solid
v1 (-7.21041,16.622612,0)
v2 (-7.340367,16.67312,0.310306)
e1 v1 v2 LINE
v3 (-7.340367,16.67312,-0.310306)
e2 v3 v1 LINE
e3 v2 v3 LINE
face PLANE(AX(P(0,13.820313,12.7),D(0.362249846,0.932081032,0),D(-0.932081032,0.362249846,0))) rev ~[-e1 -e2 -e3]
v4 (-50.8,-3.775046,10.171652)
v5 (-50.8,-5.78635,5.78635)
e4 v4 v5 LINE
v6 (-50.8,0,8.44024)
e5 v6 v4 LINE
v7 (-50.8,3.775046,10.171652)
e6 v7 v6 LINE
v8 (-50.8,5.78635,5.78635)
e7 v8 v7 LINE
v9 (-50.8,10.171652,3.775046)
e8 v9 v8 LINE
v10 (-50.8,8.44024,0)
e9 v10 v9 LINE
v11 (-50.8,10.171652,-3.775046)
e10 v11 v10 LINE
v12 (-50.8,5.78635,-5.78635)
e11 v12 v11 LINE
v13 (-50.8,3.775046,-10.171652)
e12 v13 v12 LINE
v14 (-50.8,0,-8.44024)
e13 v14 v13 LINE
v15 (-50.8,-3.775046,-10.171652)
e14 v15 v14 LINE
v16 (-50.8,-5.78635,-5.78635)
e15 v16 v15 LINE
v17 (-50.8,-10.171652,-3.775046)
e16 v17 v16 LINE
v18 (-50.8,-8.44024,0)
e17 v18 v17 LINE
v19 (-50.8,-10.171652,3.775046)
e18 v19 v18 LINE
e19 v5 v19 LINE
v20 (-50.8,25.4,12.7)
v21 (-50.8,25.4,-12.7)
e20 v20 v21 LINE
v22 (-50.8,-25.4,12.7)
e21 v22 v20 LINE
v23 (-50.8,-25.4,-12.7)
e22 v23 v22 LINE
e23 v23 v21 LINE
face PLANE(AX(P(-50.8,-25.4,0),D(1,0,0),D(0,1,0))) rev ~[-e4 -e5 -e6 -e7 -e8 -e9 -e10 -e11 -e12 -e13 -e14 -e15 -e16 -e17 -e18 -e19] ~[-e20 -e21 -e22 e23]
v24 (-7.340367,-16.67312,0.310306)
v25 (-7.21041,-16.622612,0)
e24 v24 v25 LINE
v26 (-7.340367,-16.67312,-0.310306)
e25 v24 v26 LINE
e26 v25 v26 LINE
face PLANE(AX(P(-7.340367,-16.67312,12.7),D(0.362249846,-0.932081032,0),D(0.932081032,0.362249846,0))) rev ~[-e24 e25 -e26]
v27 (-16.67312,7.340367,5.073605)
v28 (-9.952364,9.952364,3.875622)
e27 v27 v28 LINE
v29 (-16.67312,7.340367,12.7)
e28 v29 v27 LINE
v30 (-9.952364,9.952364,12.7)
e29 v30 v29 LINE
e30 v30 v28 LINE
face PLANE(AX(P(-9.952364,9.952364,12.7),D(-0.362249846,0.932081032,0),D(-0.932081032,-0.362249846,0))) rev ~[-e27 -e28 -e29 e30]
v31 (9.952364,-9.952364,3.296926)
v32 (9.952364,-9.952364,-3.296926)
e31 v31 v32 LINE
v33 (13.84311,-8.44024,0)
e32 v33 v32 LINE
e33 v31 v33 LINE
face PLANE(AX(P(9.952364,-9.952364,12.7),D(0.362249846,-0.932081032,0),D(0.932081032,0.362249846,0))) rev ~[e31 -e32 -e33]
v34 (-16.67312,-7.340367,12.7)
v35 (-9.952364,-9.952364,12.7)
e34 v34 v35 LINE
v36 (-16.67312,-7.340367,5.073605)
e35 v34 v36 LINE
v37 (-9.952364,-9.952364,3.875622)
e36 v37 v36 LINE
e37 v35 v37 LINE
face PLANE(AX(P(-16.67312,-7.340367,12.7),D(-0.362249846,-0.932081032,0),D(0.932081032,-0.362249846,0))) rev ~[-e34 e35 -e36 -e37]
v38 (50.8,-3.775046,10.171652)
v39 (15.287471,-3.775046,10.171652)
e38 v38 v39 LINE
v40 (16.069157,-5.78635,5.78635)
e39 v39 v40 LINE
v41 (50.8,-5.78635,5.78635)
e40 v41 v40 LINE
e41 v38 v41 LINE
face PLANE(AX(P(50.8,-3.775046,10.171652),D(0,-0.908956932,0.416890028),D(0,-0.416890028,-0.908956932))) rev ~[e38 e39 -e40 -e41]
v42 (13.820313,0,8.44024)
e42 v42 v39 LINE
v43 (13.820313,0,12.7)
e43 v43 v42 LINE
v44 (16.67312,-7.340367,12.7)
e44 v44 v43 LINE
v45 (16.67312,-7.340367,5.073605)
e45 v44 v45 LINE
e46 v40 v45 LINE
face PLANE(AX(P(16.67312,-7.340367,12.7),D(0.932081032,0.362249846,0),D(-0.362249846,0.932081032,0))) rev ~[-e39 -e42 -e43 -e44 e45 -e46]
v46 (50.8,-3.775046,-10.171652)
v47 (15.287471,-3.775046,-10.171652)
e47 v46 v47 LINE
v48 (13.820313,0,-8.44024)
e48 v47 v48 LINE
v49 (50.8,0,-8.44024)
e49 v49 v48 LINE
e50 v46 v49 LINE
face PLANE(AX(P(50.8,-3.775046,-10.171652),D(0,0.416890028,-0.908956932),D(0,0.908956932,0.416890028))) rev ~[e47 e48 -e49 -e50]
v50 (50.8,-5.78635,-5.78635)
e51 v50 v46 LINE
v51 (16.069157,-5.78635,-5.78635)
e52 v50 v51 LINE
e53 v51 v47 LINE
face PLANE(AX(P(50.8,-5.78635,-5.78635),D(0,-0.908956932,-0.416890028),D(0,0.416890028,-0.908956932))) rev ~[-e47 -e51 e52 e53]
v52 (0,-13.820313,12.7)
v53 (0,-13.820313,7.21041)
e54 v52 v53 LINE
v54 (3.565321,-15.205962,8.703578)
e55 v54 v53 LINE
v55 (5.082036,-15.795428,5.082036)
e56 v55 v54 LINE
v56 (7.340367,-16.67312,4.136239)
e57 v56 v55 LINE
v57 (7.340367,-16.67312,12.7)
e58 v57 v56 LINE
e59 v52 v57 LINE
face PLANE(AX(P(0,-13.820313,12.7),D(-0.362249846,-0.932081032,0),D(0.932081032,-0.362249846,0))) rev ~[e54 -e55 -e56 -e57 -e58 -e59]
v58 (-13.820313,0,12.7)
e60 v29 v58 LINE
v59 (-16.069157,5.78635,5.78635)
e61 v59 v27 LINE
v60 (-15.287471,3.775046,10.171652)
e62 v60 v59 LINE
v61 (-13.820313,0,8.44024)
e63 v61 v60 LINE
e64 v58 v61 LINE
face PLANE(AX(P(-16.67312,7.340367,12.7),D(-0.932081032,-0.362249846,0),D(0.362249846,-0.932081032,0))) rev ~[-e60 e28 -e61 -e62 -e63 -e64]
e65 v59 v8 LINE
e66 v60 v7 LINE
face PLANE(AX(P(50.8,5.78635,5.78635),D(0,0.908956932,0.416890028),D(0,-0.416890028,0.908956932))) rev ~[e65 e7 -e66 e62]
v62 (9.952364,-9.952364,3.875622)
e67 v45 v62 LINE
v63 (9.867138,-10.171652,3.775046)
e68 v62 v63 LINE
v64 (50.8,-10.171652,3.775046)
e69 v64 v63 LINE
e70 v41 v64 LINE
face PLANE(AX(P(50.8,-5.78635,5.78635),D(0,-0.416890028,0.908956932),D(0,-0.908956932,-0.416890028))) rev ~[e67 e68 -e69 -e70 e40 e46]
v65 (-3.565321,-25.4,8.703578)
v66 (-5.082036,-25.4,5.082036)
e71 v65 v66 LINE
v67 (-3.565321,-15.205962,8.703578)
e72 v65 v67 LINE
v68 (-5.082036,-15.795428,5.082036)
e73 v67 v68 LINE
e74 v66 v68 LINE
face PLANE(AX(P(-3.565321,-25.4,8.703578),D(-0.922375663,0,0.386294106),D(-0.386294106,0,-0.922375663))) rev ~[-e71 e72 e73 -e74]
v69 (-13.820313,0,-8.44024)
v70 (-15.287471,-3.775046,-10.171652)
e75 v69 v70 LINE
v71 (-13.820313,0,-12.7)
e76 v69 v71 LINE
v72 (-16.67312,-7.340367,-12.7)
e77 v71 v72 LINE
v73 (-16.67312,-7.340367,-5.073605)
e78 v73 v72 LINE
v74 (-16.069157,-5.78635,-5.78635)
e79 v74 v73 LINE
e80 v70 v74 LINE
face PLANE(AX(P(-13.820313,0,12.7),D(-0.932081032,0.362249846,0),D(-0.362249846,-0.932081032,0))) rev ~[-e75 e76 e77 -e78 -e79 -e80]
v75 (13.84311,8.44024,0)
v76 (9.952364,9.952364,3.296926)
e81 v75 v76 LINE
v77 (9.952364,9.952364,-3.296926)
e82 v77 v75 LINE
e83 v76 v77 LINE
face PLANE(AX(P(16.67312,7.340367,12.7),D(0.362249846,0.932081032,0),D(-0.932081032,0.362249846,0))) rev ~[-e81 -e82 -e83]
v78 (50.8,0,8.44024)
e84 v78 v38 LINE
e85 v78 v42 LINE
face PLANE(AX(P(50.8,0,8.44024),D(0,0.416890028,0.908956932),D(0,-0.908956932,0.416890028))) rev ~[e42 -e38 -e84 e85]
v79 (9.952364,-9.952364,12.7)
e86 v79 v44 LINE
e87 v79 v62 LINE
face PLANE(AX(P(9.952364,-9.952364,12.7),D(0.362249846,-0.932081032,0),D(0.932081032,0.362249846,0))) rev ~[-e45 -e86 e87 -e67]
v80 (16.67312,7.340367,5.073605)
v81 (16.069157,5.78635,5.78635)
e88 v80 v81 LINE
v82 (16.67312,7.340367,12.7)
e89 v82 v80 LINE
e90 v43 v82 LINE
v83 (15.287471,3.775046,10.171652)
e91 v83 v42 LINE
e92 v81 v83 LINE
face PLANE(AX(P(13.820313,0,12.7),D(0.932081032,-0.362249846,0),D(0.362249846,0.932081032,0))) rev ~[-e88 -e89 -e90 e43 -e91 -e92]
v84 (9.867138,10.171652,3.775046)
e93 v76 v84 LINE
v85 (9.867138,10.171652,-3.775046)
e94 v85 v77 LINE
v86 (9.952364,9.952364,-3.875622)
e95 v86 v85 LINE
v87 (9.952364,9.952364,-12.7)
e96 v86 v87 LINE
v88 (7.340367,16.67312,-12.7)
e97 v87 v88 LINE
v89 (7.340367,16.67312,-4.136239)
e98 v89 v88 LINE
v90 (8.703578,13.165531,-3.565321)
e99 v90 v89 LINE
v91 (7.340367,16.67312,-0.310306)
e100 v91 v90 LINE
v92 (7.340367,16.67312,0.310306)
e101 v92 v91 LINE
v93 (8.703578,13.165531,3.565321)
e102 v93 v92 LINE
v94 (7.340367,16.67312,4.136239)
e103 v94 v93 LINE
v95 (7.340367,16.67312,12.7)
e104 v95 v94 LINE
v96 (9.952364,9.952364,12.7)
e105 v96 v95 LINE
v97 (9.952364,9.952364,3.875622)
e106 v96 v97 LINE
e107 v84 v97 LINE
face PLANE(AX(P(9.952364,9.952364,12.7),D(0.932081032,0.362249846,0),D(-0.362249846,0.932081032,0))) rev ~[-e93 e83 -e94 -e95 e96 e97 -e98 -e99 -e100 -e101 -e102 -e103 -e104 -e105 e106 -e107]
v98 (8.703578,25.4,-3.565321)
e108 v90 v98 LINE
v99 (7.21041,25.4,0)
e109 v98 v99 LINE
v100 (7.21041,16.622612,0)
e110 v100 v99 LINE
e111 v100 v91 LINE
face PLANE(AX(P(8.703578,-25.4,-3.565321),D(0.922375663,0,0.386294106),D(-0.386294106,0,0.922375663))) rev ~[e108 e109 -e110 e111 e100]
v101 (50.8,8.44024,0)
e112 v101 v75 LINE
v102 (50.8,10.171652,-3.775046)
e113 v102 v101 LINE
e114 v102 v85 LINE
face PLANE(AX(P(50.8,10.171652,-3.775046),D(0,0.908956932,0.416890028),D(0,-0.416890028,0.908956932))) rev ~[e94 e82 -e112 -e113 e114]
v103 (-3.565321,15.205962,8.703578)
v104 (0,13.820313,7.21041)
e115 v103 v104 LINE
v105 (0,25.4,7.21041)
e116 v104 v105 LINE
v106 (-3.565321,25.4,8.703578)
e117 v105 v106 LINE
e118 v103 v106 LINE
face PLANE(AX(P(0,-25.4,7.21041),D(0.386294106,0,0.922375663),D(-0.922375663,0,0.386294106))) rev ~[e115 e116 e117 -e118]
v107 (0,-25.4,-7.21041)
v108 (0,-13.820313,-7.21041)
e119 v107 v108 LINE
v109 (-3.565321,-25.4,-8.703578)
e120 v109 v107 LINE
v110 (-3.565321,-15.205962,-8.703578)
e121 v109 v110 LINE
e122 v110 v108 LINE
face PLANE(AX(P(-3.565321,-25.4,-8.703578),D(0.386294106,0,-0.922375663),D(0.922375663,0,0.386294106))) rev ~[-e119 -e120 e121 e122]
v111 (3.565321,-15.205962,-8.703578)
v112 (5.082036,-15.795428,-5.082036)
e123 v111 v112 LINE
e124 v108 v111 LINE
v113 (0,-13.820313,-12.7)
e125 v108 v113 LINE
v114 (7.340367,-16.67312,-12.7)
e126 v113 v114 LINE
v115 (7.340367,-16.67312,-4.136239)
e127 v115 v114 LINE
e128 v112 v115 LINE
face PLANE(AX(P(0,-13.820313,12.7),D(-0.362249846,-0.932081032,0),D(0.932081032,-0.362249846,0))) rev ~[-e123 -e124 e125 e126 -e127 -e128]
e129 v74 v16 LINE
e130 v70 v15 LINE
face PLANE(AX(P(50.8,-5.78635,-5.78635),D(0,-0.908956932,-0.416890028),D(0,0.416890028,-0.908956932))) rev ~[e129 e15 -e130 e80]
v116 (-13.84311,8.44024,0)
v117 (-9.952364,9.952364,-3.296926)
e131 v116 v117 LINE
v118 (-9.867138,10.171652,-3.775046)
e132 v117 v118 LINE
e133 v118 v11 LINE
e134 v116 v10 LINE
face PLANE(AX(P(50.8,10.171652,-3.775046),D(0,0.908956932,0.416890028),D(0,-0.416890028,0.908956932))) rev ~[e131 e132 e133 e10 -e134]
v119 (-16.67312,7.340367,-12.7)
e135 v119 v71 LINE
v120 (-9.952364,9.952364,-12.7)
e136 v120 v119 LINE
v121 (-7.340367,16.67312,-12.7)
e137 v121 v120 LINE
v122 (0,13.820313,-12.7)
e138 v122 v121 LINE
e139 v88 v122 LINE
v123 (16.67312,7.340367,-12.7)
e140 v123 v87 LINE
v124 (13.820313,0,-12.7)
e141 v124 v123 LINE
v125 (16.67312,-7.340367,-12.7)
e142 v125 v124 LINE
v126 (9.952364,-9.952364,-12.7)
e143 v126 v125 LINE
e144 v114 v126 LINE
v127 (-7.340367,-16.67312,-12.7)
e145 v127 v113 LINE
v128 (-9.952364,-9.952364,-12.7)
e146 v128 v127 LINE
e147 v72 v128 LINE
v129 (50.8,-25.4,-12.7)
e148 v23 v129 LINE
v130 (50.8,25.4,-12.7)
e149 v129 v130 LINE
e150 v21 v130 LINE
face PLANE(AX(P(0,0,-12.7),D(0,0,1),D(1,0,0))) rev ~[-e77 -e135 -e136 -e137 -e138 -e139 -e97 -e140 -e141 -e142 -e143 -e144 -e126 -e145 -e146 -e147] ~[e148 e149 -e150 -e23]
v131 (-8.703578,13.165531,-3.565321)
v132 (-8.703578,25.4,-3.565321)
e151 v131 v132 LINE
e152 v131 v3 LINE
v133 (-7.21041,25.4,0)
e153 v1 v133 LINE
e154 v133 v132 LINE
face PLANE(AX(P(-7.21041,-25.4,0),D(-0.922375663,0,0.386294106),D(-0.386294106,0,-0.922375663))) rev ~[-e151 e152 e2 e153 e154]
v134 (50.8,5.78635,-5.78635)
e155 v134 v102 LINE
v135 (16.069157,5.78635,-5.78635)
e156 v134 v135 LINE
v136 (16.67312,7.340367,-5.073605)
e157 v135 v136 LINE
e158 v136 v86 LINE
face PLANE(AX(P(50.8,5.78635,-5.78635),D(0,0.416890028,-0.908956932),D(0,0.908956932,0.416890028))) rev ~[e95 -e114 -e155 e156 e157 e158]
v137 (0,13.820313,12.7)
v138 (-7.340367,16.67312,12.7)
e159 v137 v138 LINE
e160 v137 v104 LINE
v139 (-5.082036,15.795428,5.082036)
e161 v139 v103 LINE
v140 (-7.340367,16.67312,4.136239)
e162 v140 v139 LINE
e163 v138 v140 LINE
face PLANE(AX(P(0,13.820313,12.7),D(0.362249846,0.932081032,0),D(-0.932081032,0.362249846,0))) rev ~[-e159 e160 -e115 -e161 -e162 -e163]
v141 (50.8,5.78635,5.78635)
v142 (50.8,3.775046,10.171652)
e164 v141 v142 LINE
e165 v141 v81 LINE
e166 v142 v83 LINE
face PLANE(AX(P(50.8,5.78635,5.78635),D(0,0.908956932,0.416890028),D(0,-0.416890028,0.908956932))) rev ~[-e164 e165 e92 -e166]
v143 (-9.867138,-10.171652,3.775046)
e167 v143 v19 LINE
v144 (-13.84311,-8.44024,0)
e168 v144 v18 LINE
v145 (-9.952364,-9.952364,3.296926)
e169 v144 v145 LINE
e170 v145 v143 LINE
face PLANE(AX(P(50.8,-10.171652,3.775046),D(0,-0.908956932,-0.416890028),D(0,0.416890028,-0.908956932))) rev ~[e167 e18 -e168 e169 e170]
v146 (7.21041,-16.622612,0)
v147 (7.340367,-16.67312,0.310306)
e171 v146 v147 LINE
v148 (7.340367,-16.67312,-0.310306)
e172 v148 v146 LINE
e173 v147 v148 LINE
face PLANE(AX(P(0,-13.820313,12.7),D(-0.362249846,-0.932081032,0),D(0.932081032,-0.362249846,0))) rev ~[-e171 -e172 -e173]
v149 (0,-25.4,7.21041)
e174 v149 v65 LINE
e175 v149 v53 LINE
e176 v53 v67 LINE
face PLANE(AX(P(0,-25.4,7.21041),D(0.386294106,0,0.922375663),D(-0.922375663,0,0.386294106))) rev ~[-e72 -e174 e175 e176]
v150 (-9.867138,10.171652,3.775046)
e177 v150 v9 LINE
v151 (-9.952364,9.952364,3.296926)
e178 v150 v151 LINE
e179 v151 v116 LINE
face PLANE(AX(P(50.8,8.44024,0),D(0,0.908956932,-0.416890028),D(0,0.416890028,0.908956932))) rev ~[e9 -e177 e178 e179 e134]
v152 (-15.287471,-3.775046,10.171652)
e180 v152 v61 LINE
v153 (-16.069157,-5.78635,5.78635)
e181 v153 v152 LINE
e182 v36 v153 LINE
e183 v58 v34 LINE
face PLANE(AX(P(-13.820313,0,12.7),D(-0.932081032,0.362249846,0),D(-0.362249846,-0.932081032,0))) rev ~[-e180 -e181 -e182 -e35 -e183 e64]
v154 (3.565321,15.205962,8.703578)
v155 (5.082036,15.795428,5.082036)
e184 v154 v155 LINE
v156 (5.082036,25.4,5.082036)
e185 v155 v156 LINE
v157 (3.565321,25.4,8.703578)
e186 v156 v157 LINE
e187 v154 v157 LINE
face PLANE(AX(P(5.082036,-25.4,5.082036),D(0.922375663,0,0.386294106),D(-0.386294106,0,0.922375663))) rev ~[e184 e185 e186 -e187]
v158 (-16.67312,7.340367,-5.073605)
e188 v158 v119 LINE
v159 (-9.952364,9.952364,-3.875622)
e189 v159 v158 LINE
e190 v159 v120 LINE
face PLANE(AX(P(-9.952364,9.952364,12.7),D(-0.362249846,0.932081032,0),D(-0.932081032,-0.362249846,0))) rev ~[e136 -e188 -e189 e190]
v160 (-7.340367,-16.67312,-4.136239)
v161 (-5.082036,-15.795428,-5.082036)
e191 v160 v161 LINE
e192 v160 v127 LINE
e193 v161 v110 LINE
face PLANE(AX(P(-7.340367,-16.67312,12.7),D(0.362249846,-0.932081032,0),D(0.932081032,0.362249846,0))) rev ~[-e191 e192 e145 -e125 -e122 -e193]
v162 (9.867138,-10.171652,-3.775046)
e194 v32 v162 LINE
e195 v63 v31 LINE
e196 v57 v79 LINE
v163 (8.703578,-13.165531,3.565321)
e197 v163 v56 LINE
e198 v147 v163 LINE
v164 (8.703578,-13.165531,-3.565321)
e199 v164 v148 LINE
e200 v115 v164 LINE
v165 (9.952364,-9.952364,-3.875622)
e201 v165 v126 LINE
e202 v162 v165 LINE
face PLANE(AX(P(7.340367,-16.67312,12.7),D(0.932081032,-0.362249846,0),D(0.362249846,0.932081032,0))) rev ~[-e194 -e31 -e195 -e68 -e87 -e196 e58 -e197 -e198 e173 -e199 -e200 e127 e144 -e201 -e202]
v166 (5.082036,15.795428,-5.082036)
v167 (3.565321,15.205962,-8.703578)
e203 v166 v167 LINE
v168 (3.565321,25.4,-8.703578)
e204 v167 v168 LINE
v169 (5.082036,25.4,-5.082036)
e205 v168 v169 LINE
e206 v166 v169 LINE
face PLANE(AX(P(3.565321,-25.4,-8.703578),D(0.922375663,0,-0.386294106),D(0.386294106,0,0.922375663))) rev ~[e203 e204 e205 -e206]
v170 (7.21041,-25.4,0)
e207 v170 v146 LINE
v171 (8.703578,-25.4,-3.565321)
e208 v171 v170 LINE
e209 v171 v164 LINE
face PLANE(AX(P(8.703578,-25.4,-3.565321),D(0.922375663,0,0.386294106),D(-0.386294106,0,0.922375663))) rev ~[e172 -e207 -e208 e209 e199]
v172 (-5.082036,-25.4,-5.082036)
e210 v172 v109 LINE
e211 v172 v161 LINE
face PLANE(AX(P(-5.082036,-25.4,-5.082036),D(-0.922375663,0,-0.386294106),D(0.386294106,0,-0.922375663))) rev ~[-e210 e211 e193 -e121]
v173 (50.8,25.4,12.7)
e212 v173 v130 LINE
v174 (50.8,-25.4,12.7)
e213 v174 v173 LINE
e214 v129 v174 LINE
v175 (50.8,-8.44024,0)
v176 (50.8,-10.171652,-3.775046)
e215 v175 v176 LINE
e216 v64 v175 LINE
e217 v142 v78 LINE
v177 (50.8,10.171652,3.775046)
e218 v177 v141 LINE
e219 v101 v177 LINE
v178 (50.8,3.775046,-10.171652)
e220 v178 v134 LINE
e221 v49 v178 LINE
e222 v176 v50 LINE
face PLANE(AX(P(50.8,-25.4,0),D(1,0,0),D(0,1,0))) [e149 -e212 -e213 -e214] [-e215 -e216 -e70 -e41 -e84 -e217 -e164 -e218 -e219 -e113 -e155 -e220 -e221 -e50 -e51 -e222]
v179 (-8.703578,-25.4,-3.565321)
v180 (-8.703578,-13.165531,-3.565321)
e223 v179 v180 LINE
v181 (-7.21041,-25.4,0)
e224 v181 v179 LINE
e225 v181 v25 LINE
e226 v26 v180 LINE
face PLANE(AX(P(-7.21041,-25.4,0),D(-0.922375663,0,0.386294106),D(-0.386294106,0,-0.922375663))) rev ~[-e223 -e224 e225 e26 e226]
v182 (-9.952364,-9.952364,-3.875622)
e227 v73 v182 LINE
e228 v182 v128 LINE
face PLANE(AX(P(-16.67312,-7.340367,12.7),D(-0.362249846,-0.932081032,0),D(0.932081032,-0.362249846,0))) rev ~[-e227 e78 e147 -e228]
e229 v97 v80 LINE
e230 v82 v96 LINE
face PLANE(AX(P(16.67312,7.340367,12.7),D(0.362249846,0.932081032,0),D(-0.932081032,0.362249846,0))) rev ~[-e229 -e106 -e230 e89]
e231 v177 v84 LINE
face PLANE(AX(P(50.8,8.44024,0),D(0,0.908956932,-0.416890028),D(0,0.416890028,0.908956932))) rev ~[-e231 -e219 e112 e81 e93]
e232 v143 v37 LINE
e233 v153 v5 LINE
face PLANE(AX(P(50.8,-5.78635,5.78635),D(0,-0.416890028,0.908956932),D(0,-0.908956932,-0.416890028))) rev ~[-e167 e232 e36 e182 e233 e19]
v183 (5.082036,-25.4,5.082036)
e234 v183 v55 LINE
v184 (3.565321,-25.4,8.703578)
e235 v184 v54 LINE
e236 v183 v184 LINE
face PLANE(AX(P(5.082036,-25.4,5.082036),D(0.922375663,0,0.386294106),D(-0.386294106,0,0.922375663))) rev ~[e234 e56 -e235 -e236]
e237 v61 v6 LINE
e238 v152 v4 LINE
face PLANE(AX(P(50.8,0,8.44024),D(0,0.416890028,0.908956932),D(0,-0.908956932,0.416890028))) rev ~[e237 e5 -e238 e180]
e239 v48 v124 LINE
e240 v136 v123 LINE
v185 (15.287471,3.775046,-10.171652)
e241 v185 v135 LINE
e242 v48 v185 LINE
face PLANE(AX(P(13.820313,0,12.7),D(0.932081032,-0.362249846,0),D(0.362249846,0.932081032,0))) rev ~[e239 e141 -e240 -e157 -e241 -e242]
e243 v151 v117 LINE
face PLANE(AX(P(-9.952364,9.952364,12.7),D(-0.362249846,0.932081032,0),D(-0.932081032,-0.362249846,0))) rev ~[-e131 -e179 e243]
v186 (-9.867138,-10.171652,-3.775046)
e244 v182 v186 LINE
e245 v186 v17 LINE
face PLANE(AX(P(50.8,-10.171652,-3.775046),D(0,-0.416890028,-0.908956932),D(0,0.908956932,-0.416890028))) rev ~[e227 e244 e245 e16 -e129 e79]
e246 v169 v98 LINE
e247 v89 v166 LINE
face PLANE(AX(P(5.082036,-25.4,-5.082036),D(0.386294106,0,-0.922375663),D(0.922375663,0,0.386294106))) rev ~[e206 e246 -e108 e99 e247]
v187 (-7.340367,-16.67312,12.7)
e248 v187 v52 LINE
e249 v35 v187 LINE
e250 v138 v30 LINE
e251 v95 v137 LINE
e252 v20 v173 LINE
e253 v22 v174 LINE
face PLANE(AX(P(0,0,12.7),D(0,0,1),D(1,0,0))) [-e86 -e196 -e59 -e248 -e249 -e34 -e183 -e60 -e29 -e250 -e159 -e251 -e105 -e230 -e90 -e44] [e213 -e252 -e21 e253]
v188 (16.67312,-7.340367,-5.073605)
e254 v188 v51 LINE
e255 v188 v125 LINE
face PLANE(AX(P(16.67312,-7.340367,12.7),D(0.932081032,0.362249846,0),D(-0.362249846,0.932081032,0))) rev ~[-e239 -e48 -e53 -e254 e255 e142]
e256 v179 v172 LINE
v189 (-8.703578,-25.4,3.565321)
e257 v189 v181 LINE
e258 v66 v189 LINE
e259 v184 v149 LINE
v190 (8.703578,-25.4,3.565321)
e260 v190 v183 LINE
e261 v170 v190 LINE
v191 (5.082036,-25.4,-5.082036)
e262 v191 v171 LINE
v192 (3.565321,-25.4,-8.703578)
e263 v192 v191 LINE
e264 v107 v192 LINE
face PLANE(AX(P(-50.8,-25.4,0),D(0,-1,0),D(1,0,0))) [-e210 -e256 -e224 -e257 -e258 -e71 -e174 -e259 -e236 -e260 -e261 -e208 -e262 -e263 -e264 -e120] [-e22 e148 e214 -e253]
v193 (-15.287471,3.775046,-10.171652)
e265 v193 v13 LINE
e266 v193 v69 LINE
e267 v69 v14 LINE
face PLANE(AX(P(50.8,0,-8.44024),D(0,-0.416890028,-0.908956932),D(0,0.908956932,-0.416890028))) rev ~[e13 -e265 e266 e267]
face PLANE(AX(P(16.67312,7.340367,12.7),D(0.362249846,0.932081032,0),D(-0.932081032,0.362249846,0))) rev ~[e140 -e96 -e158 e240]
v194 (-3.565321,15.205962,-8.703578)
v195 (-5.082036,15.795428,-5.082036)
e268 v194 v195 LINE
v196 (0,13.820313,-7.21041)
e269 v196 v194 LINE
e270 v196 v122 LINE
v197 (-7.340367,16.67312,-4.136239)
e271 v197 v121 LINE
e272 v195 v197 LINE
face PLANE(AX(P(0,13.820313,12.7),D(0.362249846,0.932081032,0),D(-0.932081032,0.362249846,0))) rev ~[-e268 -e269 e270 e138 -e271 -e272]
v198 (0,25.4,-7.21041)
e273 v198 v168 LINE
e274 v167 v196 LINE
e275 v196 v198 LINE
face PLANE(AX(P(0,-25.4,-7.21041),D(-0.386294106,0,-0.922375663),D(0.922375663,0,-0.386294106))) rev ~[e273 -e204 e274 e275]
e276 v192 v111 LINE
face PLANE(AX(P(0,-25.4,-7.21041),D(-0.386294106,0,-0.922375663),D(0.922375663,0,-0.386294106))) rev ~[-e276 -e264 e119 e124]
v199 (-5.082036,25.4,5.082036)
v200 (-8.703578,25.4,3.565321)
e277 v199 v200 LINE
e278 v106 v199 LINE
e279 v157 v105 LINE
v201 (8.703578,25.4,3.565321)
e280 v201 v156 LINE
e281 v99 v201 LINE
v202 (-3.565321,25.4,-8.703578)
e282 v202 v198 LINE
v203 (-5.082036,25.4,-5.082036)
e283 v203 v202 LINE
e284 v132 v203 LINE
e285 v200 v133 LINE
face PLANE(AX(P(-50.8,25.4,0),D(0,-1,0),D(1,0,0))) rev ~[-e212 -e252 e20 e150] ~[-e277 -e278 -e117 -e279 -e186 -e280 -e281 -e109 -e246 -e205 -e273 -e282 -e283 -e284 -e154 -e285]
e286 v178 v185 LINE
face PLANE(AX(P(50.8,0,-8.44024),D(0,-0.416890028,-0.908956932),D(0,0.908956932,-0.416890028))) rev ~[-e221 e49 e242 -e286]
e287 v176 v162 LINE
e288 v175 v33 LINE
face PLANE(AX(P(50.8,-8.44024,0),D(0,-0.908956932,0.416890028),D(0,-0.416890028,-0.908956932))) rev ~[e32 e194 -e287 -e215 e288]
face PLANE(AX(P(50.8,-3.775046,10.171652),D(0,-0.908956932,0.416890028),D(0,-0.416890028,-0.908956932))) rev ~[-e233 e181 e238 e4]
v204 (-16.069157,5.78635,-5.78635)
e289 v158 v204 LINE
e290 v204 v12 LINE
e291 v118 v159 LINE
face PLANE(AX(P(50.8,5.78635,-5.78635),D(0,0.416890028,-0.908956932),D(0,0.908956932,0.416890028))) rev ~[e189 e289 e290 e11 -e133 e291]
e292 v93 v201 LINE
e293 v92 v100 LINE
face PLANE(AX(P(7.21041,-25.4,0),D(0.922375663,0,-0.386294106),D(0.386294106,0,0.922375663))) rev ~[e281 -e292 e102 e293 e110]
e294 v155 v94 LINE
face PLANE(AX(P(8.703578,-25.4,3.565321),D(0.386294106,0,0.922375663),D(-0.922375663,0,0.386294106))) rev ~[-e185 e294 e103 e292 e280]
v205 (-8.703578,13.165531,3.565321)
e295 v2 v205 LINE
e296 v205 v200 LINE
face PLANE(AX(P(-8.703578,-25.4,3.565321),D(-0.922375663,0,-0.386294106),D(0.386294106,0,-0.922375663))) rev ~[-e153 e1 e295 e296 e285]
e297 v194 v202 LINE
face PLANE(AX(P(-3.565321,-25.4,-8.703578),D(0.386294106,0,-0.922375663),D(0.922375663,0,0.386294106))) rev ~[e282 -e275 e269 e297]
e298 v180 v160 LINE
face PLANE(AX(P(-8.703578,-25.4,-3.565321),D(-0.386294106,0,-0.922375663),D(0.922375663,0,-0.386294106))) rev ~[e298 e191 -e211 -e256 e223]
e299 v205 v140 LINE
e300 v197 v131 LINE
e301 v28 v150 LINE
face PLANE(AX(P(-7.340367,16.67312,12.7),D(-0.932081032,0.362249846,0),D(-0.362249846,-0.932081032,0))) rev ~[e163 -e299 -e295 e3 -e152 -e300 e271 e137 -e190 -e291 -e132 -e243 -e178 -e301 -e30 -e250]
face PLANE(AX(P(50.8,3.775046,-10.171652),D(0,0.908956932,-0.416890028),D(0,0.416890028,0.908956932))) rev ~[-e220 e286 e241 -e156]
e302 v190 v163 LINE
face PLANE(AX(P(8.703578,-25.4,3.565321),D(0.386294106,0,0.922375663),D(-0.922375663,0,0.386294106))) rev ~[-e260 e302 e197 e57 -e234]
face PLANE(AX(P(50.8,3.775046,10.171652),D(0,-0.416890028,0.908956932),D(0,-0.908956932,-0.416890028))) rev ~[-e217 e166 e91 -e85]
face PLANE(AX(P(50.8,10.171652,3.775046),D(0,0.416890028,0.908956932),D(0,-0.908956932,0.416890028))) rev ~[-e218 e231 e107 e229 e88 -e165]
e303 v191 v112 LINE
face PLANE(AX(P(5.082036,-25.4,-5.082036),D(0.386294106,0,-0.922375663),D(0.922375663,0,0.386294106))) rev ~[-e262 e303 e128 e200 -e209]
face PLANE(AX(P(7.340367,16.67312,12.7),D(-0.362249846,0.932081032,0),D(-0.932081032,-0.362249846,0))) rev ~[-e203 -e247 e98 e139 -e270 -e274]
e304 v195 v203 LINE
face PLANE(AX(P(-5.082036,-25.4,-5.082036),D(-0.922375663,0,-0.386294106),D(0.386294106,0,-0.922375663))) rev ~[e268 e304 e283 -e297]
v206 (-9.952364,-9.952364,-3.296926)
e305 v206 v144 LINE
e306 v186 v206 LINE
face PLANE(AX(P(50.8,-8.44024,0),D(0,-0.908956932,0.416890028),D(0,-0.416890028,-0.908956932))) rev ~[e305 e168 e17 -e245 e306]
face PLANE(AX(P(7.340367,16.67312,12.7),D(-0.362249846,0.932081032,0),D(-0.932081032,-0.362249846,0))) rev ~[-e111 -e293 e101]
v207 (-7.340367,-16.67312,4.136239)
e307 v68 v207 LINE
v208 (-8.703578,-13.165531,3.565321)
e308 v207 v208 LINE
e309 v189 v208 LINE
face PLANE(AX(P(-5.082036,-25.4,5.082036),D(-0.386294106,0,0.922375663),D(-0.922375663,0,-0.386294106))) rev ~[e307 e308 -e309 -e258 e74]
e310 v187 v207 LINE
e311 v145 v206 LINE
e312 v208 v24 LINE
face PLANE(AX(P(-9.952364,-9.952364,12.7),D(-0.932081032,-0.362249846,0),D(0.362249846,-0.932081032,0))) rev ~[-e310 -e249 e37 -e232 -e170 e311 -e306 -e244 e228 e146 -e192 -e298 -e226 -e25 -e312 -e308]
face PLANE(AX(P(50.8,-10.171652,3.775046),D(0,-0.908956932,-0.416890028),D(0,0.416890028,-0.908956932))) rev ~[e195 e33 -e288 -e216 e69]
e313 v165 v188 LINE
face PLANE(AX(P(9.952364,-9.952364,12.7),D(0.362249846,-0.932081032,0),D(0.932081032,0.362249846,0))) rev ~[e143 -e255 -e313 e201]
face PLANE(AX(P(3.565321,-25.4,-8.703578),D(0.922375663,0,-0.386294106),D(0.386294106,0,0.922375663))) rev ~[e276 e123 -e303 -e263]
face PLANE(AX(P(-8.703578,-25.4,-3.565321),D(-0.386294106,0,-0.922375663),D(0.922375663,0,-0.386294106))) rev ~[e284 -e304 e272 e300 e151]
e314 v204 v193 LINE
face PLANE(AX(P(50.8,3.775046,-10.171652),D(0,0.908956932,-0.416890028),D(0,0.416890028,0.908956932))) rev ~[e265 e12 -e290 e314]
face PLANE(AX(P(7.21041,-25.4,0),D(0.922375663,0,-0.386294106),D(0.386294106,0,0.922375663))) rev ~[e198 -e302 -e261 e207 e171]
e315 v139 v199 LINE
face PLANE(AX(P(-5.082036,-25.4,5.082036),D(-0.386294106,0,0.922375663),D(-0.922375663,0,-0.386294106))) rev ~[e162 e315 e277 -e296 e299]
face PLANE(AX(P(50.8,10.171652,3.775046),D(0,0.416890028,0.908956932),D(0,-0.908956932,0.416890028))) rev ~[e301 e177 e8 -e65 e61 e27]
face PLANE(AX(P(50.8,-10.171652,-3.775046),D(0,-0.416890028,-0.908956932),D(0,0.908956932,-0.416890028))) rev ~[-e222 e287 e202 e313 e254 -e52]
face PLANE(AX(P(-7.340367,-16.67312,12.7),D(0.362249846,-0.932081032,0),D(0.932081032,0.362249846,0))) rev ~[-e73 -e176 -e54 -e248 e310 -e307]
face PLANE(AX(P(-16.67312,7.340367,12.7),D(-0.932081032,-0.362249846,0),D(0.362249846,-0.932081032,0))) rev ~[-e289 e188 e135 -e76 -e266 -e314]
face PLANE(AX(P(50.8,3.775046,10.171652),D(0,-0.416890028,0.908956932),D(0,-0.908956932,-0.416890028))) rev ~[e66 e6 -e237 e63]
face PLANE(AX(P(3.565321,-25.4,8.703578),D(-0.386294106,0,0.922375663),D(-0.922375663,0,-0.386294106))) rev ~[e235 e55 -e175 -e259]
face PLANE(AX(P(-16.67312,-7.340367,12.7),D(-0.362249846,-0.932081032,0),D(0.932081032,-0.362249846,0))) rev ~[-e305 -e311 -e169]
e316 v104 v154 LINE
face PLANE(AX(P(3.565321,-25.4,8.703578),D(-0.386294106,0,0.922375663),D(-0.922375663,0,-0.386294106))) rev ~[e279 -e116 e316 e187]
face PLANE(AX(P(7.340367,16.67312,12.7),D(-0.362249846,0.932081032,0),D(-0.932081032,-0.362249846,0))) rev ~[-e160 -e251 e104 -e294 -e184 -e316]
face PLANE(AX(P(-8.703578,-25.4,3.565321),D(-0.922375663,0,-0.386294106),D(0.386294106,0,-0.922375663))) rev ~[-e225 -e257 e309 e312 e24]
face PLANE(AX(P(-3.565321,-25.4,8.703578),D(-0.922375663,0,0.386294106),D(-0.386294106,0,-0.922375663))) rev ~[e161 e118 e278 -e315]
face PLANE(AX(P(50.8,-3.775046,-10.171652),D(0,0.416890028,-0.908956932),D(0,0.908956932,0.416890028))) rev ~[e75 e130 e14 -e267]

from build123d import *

# Parameters (mm, degrees)
F0_W     = 101.6
F0_H     = 50.8
F1_DEPTH = 12.7
F3_DEPTH = 25.4
F5_DEPTH = 81.28
F7_DEPTH = 125.222


with BuildPart() as f1:
    # F0 (on Top) → F1 (new body, symmetric)
    with BuildSketch(Plane.XY):
        Rectangle(F0_W, F0_H)
    extrude(amount=F1_DEPTH, both=True)

    # F2 (on face) → F3 (cut)
    with BuildSketch(Plane.XY.offset(12.7)):
        Polygon((-13.8203132717, 0), (-16.6731197387, -7.3403669521), (-9.9523638651, -9.9523638651), align=None)
        Polygon((-16.6731197387, 7.3403669521), (-13.8203132717, 0), (-9.9523638651, 9.9523638651), align=None)
        Polygon((-9.9523638651, 9.9523638651), (-13.8203132717, 0), (-9.9523638651, -9.9523638651), (0, -13.8203132717), (9.9523638651, -9.9523638651), (13.8203132717, 0), (9.9523638651, 9.9523638651), (0, 13.8203132717), align=None)
        Polygon((0, -13.8203132717), (-9.9523638651, -9.9523638651), (-7.3403669521, -16.6731197387), align=None)
        Polygon((-7.3403669521, 16.6731197387), (-9.9523638651, 9.9523638651), (0, 13.8203132717), align=None)
        Polygon((9.9523638651, -9.9523638651), (0, -13.8203132717), (7.3403669521, -16.6731197387), align=None)
        Polygon((7.3403669521, 16.6731197387), (0, 13.8203132717), (9.9523638651, 9.9523638651), align=None)
        Polygon((13.8203132717, 0), (9.9523638651, -9.9523638651), (16.6731197387, -7.3403669521), align=None)
        Polygon((16.6731197387, 7.3403669521), (9.9523638651, 9.9523638651), (13.8203132717, 0), align=None)
    extrude(amount=-F3_DEPTH, mode=Mode.SUBTRACT)

    # F4 (on face) → F5 (cut)
    with BuildSketch(Plane.XZ.offset(25.4)):
        Polygon((-7.2104095505, 0), (-8.7035782635, -3.5653209779), (-5.0820355483, -5.0820355483), align=None)
        Polygon((-8.7035782635, 3.5653209779), (-7.2104095505, 0), (-5.0820355483, 5.0820355483), align=None)
        Polygon((-5.0820355483, 5.0820355483), (-7.2104095505, 0), (-5.0820355483, -5.0820355483), (0, -7.2104095505), (5.0820355483, -5.0820355483), (7.2104095505, 0), (5.0820355483, 5.0820355483), (0, 7.2104095505), align=None)
        Polygon((0, -7.2104095505), (-5.0820355483, -5.0820355483), (-3.5653209779, -8.7035782635), align=None)
        Polygon((-3.5653209779, 8.7035782635), (-5.0820355483, 5.0820355483), (0, 7.2104095505), align=None)
        Polygon((5.0820355483, -5.0820355483), (0, -7.2104095505), (3.5653209779, -8.7035782635), align=None)
        Polygon((3.5653209779, 8.7035782635), (0, 7.2104095505), (5.0820355483, 5.0820355483), align=None)
        Polygon((7.2104095505, 0), (5.0820355483, -5.0820355483), (8.7035782635, -3.5653209779), align=None)
        Polygon((8.7035782635, 3.5653209779), (5.0820355483, 5.0820355483), (7.2104095505, 0), align=None)
    extrude(amount=-F5_DEPTH, mode=Mode.SUBTRACT)

    # F6 (on face) → F7 (cut)
    with BuildSketch(Plane.YZ.offset(50.8)):
        Polygon((-8.4402397494, 0), (-10.1716518402, -3.7750459742), (-5.7863499024, -5.7863499024), align=None)
        Polygon((-10.1716518402, 3.7750459742), (-8.4402397494, 0), (-5.7863499024, 5.7863499024), align=None)
        Polygon((-5.7863499024, 5.7863499024), (-8.4402397494, 0), (-5.7863499024, -5.7863499024), (0, -8.4402397494), (5.7863499024, -5.7863499024), (8.4402397494, 0), (5.7863499024, 5.7863499024), (0, 8.4402397494), align=None)
        Polygon((0, -8.4402397494), (-5.7863499024, -5.7863499024), (-3.7750459742, -10.1716518402), align=None)
        Polygon((-3.7750459742, 10.1716518402), (-5.7863499024, 5.7863499024), (0, 8.4402397494), align=None)
        Polygon((5.7863499024, -5.7863499024), (0, -8.4402397494), (3.7750459742, -10.1716518402), align=None)
        Polygon((3.7750459742, 10.1716518402), (0, 8.4402397494), (5.7863499024, 5.7863499024), align=None)
        Polygon((8.4402397494, 0), (5.7863499024, -5.7863499024), (10.1716518402, -3.7750459742), align=None)
        Polygon((10.1716518402, 3.7750459742), (5.7863499024, 5.7863499024), (8.4402397494, 0), align=None)
    extrude(amount=-F7_DEPTH, mode=Mode.SUBTRACT)


solid = f1.part
